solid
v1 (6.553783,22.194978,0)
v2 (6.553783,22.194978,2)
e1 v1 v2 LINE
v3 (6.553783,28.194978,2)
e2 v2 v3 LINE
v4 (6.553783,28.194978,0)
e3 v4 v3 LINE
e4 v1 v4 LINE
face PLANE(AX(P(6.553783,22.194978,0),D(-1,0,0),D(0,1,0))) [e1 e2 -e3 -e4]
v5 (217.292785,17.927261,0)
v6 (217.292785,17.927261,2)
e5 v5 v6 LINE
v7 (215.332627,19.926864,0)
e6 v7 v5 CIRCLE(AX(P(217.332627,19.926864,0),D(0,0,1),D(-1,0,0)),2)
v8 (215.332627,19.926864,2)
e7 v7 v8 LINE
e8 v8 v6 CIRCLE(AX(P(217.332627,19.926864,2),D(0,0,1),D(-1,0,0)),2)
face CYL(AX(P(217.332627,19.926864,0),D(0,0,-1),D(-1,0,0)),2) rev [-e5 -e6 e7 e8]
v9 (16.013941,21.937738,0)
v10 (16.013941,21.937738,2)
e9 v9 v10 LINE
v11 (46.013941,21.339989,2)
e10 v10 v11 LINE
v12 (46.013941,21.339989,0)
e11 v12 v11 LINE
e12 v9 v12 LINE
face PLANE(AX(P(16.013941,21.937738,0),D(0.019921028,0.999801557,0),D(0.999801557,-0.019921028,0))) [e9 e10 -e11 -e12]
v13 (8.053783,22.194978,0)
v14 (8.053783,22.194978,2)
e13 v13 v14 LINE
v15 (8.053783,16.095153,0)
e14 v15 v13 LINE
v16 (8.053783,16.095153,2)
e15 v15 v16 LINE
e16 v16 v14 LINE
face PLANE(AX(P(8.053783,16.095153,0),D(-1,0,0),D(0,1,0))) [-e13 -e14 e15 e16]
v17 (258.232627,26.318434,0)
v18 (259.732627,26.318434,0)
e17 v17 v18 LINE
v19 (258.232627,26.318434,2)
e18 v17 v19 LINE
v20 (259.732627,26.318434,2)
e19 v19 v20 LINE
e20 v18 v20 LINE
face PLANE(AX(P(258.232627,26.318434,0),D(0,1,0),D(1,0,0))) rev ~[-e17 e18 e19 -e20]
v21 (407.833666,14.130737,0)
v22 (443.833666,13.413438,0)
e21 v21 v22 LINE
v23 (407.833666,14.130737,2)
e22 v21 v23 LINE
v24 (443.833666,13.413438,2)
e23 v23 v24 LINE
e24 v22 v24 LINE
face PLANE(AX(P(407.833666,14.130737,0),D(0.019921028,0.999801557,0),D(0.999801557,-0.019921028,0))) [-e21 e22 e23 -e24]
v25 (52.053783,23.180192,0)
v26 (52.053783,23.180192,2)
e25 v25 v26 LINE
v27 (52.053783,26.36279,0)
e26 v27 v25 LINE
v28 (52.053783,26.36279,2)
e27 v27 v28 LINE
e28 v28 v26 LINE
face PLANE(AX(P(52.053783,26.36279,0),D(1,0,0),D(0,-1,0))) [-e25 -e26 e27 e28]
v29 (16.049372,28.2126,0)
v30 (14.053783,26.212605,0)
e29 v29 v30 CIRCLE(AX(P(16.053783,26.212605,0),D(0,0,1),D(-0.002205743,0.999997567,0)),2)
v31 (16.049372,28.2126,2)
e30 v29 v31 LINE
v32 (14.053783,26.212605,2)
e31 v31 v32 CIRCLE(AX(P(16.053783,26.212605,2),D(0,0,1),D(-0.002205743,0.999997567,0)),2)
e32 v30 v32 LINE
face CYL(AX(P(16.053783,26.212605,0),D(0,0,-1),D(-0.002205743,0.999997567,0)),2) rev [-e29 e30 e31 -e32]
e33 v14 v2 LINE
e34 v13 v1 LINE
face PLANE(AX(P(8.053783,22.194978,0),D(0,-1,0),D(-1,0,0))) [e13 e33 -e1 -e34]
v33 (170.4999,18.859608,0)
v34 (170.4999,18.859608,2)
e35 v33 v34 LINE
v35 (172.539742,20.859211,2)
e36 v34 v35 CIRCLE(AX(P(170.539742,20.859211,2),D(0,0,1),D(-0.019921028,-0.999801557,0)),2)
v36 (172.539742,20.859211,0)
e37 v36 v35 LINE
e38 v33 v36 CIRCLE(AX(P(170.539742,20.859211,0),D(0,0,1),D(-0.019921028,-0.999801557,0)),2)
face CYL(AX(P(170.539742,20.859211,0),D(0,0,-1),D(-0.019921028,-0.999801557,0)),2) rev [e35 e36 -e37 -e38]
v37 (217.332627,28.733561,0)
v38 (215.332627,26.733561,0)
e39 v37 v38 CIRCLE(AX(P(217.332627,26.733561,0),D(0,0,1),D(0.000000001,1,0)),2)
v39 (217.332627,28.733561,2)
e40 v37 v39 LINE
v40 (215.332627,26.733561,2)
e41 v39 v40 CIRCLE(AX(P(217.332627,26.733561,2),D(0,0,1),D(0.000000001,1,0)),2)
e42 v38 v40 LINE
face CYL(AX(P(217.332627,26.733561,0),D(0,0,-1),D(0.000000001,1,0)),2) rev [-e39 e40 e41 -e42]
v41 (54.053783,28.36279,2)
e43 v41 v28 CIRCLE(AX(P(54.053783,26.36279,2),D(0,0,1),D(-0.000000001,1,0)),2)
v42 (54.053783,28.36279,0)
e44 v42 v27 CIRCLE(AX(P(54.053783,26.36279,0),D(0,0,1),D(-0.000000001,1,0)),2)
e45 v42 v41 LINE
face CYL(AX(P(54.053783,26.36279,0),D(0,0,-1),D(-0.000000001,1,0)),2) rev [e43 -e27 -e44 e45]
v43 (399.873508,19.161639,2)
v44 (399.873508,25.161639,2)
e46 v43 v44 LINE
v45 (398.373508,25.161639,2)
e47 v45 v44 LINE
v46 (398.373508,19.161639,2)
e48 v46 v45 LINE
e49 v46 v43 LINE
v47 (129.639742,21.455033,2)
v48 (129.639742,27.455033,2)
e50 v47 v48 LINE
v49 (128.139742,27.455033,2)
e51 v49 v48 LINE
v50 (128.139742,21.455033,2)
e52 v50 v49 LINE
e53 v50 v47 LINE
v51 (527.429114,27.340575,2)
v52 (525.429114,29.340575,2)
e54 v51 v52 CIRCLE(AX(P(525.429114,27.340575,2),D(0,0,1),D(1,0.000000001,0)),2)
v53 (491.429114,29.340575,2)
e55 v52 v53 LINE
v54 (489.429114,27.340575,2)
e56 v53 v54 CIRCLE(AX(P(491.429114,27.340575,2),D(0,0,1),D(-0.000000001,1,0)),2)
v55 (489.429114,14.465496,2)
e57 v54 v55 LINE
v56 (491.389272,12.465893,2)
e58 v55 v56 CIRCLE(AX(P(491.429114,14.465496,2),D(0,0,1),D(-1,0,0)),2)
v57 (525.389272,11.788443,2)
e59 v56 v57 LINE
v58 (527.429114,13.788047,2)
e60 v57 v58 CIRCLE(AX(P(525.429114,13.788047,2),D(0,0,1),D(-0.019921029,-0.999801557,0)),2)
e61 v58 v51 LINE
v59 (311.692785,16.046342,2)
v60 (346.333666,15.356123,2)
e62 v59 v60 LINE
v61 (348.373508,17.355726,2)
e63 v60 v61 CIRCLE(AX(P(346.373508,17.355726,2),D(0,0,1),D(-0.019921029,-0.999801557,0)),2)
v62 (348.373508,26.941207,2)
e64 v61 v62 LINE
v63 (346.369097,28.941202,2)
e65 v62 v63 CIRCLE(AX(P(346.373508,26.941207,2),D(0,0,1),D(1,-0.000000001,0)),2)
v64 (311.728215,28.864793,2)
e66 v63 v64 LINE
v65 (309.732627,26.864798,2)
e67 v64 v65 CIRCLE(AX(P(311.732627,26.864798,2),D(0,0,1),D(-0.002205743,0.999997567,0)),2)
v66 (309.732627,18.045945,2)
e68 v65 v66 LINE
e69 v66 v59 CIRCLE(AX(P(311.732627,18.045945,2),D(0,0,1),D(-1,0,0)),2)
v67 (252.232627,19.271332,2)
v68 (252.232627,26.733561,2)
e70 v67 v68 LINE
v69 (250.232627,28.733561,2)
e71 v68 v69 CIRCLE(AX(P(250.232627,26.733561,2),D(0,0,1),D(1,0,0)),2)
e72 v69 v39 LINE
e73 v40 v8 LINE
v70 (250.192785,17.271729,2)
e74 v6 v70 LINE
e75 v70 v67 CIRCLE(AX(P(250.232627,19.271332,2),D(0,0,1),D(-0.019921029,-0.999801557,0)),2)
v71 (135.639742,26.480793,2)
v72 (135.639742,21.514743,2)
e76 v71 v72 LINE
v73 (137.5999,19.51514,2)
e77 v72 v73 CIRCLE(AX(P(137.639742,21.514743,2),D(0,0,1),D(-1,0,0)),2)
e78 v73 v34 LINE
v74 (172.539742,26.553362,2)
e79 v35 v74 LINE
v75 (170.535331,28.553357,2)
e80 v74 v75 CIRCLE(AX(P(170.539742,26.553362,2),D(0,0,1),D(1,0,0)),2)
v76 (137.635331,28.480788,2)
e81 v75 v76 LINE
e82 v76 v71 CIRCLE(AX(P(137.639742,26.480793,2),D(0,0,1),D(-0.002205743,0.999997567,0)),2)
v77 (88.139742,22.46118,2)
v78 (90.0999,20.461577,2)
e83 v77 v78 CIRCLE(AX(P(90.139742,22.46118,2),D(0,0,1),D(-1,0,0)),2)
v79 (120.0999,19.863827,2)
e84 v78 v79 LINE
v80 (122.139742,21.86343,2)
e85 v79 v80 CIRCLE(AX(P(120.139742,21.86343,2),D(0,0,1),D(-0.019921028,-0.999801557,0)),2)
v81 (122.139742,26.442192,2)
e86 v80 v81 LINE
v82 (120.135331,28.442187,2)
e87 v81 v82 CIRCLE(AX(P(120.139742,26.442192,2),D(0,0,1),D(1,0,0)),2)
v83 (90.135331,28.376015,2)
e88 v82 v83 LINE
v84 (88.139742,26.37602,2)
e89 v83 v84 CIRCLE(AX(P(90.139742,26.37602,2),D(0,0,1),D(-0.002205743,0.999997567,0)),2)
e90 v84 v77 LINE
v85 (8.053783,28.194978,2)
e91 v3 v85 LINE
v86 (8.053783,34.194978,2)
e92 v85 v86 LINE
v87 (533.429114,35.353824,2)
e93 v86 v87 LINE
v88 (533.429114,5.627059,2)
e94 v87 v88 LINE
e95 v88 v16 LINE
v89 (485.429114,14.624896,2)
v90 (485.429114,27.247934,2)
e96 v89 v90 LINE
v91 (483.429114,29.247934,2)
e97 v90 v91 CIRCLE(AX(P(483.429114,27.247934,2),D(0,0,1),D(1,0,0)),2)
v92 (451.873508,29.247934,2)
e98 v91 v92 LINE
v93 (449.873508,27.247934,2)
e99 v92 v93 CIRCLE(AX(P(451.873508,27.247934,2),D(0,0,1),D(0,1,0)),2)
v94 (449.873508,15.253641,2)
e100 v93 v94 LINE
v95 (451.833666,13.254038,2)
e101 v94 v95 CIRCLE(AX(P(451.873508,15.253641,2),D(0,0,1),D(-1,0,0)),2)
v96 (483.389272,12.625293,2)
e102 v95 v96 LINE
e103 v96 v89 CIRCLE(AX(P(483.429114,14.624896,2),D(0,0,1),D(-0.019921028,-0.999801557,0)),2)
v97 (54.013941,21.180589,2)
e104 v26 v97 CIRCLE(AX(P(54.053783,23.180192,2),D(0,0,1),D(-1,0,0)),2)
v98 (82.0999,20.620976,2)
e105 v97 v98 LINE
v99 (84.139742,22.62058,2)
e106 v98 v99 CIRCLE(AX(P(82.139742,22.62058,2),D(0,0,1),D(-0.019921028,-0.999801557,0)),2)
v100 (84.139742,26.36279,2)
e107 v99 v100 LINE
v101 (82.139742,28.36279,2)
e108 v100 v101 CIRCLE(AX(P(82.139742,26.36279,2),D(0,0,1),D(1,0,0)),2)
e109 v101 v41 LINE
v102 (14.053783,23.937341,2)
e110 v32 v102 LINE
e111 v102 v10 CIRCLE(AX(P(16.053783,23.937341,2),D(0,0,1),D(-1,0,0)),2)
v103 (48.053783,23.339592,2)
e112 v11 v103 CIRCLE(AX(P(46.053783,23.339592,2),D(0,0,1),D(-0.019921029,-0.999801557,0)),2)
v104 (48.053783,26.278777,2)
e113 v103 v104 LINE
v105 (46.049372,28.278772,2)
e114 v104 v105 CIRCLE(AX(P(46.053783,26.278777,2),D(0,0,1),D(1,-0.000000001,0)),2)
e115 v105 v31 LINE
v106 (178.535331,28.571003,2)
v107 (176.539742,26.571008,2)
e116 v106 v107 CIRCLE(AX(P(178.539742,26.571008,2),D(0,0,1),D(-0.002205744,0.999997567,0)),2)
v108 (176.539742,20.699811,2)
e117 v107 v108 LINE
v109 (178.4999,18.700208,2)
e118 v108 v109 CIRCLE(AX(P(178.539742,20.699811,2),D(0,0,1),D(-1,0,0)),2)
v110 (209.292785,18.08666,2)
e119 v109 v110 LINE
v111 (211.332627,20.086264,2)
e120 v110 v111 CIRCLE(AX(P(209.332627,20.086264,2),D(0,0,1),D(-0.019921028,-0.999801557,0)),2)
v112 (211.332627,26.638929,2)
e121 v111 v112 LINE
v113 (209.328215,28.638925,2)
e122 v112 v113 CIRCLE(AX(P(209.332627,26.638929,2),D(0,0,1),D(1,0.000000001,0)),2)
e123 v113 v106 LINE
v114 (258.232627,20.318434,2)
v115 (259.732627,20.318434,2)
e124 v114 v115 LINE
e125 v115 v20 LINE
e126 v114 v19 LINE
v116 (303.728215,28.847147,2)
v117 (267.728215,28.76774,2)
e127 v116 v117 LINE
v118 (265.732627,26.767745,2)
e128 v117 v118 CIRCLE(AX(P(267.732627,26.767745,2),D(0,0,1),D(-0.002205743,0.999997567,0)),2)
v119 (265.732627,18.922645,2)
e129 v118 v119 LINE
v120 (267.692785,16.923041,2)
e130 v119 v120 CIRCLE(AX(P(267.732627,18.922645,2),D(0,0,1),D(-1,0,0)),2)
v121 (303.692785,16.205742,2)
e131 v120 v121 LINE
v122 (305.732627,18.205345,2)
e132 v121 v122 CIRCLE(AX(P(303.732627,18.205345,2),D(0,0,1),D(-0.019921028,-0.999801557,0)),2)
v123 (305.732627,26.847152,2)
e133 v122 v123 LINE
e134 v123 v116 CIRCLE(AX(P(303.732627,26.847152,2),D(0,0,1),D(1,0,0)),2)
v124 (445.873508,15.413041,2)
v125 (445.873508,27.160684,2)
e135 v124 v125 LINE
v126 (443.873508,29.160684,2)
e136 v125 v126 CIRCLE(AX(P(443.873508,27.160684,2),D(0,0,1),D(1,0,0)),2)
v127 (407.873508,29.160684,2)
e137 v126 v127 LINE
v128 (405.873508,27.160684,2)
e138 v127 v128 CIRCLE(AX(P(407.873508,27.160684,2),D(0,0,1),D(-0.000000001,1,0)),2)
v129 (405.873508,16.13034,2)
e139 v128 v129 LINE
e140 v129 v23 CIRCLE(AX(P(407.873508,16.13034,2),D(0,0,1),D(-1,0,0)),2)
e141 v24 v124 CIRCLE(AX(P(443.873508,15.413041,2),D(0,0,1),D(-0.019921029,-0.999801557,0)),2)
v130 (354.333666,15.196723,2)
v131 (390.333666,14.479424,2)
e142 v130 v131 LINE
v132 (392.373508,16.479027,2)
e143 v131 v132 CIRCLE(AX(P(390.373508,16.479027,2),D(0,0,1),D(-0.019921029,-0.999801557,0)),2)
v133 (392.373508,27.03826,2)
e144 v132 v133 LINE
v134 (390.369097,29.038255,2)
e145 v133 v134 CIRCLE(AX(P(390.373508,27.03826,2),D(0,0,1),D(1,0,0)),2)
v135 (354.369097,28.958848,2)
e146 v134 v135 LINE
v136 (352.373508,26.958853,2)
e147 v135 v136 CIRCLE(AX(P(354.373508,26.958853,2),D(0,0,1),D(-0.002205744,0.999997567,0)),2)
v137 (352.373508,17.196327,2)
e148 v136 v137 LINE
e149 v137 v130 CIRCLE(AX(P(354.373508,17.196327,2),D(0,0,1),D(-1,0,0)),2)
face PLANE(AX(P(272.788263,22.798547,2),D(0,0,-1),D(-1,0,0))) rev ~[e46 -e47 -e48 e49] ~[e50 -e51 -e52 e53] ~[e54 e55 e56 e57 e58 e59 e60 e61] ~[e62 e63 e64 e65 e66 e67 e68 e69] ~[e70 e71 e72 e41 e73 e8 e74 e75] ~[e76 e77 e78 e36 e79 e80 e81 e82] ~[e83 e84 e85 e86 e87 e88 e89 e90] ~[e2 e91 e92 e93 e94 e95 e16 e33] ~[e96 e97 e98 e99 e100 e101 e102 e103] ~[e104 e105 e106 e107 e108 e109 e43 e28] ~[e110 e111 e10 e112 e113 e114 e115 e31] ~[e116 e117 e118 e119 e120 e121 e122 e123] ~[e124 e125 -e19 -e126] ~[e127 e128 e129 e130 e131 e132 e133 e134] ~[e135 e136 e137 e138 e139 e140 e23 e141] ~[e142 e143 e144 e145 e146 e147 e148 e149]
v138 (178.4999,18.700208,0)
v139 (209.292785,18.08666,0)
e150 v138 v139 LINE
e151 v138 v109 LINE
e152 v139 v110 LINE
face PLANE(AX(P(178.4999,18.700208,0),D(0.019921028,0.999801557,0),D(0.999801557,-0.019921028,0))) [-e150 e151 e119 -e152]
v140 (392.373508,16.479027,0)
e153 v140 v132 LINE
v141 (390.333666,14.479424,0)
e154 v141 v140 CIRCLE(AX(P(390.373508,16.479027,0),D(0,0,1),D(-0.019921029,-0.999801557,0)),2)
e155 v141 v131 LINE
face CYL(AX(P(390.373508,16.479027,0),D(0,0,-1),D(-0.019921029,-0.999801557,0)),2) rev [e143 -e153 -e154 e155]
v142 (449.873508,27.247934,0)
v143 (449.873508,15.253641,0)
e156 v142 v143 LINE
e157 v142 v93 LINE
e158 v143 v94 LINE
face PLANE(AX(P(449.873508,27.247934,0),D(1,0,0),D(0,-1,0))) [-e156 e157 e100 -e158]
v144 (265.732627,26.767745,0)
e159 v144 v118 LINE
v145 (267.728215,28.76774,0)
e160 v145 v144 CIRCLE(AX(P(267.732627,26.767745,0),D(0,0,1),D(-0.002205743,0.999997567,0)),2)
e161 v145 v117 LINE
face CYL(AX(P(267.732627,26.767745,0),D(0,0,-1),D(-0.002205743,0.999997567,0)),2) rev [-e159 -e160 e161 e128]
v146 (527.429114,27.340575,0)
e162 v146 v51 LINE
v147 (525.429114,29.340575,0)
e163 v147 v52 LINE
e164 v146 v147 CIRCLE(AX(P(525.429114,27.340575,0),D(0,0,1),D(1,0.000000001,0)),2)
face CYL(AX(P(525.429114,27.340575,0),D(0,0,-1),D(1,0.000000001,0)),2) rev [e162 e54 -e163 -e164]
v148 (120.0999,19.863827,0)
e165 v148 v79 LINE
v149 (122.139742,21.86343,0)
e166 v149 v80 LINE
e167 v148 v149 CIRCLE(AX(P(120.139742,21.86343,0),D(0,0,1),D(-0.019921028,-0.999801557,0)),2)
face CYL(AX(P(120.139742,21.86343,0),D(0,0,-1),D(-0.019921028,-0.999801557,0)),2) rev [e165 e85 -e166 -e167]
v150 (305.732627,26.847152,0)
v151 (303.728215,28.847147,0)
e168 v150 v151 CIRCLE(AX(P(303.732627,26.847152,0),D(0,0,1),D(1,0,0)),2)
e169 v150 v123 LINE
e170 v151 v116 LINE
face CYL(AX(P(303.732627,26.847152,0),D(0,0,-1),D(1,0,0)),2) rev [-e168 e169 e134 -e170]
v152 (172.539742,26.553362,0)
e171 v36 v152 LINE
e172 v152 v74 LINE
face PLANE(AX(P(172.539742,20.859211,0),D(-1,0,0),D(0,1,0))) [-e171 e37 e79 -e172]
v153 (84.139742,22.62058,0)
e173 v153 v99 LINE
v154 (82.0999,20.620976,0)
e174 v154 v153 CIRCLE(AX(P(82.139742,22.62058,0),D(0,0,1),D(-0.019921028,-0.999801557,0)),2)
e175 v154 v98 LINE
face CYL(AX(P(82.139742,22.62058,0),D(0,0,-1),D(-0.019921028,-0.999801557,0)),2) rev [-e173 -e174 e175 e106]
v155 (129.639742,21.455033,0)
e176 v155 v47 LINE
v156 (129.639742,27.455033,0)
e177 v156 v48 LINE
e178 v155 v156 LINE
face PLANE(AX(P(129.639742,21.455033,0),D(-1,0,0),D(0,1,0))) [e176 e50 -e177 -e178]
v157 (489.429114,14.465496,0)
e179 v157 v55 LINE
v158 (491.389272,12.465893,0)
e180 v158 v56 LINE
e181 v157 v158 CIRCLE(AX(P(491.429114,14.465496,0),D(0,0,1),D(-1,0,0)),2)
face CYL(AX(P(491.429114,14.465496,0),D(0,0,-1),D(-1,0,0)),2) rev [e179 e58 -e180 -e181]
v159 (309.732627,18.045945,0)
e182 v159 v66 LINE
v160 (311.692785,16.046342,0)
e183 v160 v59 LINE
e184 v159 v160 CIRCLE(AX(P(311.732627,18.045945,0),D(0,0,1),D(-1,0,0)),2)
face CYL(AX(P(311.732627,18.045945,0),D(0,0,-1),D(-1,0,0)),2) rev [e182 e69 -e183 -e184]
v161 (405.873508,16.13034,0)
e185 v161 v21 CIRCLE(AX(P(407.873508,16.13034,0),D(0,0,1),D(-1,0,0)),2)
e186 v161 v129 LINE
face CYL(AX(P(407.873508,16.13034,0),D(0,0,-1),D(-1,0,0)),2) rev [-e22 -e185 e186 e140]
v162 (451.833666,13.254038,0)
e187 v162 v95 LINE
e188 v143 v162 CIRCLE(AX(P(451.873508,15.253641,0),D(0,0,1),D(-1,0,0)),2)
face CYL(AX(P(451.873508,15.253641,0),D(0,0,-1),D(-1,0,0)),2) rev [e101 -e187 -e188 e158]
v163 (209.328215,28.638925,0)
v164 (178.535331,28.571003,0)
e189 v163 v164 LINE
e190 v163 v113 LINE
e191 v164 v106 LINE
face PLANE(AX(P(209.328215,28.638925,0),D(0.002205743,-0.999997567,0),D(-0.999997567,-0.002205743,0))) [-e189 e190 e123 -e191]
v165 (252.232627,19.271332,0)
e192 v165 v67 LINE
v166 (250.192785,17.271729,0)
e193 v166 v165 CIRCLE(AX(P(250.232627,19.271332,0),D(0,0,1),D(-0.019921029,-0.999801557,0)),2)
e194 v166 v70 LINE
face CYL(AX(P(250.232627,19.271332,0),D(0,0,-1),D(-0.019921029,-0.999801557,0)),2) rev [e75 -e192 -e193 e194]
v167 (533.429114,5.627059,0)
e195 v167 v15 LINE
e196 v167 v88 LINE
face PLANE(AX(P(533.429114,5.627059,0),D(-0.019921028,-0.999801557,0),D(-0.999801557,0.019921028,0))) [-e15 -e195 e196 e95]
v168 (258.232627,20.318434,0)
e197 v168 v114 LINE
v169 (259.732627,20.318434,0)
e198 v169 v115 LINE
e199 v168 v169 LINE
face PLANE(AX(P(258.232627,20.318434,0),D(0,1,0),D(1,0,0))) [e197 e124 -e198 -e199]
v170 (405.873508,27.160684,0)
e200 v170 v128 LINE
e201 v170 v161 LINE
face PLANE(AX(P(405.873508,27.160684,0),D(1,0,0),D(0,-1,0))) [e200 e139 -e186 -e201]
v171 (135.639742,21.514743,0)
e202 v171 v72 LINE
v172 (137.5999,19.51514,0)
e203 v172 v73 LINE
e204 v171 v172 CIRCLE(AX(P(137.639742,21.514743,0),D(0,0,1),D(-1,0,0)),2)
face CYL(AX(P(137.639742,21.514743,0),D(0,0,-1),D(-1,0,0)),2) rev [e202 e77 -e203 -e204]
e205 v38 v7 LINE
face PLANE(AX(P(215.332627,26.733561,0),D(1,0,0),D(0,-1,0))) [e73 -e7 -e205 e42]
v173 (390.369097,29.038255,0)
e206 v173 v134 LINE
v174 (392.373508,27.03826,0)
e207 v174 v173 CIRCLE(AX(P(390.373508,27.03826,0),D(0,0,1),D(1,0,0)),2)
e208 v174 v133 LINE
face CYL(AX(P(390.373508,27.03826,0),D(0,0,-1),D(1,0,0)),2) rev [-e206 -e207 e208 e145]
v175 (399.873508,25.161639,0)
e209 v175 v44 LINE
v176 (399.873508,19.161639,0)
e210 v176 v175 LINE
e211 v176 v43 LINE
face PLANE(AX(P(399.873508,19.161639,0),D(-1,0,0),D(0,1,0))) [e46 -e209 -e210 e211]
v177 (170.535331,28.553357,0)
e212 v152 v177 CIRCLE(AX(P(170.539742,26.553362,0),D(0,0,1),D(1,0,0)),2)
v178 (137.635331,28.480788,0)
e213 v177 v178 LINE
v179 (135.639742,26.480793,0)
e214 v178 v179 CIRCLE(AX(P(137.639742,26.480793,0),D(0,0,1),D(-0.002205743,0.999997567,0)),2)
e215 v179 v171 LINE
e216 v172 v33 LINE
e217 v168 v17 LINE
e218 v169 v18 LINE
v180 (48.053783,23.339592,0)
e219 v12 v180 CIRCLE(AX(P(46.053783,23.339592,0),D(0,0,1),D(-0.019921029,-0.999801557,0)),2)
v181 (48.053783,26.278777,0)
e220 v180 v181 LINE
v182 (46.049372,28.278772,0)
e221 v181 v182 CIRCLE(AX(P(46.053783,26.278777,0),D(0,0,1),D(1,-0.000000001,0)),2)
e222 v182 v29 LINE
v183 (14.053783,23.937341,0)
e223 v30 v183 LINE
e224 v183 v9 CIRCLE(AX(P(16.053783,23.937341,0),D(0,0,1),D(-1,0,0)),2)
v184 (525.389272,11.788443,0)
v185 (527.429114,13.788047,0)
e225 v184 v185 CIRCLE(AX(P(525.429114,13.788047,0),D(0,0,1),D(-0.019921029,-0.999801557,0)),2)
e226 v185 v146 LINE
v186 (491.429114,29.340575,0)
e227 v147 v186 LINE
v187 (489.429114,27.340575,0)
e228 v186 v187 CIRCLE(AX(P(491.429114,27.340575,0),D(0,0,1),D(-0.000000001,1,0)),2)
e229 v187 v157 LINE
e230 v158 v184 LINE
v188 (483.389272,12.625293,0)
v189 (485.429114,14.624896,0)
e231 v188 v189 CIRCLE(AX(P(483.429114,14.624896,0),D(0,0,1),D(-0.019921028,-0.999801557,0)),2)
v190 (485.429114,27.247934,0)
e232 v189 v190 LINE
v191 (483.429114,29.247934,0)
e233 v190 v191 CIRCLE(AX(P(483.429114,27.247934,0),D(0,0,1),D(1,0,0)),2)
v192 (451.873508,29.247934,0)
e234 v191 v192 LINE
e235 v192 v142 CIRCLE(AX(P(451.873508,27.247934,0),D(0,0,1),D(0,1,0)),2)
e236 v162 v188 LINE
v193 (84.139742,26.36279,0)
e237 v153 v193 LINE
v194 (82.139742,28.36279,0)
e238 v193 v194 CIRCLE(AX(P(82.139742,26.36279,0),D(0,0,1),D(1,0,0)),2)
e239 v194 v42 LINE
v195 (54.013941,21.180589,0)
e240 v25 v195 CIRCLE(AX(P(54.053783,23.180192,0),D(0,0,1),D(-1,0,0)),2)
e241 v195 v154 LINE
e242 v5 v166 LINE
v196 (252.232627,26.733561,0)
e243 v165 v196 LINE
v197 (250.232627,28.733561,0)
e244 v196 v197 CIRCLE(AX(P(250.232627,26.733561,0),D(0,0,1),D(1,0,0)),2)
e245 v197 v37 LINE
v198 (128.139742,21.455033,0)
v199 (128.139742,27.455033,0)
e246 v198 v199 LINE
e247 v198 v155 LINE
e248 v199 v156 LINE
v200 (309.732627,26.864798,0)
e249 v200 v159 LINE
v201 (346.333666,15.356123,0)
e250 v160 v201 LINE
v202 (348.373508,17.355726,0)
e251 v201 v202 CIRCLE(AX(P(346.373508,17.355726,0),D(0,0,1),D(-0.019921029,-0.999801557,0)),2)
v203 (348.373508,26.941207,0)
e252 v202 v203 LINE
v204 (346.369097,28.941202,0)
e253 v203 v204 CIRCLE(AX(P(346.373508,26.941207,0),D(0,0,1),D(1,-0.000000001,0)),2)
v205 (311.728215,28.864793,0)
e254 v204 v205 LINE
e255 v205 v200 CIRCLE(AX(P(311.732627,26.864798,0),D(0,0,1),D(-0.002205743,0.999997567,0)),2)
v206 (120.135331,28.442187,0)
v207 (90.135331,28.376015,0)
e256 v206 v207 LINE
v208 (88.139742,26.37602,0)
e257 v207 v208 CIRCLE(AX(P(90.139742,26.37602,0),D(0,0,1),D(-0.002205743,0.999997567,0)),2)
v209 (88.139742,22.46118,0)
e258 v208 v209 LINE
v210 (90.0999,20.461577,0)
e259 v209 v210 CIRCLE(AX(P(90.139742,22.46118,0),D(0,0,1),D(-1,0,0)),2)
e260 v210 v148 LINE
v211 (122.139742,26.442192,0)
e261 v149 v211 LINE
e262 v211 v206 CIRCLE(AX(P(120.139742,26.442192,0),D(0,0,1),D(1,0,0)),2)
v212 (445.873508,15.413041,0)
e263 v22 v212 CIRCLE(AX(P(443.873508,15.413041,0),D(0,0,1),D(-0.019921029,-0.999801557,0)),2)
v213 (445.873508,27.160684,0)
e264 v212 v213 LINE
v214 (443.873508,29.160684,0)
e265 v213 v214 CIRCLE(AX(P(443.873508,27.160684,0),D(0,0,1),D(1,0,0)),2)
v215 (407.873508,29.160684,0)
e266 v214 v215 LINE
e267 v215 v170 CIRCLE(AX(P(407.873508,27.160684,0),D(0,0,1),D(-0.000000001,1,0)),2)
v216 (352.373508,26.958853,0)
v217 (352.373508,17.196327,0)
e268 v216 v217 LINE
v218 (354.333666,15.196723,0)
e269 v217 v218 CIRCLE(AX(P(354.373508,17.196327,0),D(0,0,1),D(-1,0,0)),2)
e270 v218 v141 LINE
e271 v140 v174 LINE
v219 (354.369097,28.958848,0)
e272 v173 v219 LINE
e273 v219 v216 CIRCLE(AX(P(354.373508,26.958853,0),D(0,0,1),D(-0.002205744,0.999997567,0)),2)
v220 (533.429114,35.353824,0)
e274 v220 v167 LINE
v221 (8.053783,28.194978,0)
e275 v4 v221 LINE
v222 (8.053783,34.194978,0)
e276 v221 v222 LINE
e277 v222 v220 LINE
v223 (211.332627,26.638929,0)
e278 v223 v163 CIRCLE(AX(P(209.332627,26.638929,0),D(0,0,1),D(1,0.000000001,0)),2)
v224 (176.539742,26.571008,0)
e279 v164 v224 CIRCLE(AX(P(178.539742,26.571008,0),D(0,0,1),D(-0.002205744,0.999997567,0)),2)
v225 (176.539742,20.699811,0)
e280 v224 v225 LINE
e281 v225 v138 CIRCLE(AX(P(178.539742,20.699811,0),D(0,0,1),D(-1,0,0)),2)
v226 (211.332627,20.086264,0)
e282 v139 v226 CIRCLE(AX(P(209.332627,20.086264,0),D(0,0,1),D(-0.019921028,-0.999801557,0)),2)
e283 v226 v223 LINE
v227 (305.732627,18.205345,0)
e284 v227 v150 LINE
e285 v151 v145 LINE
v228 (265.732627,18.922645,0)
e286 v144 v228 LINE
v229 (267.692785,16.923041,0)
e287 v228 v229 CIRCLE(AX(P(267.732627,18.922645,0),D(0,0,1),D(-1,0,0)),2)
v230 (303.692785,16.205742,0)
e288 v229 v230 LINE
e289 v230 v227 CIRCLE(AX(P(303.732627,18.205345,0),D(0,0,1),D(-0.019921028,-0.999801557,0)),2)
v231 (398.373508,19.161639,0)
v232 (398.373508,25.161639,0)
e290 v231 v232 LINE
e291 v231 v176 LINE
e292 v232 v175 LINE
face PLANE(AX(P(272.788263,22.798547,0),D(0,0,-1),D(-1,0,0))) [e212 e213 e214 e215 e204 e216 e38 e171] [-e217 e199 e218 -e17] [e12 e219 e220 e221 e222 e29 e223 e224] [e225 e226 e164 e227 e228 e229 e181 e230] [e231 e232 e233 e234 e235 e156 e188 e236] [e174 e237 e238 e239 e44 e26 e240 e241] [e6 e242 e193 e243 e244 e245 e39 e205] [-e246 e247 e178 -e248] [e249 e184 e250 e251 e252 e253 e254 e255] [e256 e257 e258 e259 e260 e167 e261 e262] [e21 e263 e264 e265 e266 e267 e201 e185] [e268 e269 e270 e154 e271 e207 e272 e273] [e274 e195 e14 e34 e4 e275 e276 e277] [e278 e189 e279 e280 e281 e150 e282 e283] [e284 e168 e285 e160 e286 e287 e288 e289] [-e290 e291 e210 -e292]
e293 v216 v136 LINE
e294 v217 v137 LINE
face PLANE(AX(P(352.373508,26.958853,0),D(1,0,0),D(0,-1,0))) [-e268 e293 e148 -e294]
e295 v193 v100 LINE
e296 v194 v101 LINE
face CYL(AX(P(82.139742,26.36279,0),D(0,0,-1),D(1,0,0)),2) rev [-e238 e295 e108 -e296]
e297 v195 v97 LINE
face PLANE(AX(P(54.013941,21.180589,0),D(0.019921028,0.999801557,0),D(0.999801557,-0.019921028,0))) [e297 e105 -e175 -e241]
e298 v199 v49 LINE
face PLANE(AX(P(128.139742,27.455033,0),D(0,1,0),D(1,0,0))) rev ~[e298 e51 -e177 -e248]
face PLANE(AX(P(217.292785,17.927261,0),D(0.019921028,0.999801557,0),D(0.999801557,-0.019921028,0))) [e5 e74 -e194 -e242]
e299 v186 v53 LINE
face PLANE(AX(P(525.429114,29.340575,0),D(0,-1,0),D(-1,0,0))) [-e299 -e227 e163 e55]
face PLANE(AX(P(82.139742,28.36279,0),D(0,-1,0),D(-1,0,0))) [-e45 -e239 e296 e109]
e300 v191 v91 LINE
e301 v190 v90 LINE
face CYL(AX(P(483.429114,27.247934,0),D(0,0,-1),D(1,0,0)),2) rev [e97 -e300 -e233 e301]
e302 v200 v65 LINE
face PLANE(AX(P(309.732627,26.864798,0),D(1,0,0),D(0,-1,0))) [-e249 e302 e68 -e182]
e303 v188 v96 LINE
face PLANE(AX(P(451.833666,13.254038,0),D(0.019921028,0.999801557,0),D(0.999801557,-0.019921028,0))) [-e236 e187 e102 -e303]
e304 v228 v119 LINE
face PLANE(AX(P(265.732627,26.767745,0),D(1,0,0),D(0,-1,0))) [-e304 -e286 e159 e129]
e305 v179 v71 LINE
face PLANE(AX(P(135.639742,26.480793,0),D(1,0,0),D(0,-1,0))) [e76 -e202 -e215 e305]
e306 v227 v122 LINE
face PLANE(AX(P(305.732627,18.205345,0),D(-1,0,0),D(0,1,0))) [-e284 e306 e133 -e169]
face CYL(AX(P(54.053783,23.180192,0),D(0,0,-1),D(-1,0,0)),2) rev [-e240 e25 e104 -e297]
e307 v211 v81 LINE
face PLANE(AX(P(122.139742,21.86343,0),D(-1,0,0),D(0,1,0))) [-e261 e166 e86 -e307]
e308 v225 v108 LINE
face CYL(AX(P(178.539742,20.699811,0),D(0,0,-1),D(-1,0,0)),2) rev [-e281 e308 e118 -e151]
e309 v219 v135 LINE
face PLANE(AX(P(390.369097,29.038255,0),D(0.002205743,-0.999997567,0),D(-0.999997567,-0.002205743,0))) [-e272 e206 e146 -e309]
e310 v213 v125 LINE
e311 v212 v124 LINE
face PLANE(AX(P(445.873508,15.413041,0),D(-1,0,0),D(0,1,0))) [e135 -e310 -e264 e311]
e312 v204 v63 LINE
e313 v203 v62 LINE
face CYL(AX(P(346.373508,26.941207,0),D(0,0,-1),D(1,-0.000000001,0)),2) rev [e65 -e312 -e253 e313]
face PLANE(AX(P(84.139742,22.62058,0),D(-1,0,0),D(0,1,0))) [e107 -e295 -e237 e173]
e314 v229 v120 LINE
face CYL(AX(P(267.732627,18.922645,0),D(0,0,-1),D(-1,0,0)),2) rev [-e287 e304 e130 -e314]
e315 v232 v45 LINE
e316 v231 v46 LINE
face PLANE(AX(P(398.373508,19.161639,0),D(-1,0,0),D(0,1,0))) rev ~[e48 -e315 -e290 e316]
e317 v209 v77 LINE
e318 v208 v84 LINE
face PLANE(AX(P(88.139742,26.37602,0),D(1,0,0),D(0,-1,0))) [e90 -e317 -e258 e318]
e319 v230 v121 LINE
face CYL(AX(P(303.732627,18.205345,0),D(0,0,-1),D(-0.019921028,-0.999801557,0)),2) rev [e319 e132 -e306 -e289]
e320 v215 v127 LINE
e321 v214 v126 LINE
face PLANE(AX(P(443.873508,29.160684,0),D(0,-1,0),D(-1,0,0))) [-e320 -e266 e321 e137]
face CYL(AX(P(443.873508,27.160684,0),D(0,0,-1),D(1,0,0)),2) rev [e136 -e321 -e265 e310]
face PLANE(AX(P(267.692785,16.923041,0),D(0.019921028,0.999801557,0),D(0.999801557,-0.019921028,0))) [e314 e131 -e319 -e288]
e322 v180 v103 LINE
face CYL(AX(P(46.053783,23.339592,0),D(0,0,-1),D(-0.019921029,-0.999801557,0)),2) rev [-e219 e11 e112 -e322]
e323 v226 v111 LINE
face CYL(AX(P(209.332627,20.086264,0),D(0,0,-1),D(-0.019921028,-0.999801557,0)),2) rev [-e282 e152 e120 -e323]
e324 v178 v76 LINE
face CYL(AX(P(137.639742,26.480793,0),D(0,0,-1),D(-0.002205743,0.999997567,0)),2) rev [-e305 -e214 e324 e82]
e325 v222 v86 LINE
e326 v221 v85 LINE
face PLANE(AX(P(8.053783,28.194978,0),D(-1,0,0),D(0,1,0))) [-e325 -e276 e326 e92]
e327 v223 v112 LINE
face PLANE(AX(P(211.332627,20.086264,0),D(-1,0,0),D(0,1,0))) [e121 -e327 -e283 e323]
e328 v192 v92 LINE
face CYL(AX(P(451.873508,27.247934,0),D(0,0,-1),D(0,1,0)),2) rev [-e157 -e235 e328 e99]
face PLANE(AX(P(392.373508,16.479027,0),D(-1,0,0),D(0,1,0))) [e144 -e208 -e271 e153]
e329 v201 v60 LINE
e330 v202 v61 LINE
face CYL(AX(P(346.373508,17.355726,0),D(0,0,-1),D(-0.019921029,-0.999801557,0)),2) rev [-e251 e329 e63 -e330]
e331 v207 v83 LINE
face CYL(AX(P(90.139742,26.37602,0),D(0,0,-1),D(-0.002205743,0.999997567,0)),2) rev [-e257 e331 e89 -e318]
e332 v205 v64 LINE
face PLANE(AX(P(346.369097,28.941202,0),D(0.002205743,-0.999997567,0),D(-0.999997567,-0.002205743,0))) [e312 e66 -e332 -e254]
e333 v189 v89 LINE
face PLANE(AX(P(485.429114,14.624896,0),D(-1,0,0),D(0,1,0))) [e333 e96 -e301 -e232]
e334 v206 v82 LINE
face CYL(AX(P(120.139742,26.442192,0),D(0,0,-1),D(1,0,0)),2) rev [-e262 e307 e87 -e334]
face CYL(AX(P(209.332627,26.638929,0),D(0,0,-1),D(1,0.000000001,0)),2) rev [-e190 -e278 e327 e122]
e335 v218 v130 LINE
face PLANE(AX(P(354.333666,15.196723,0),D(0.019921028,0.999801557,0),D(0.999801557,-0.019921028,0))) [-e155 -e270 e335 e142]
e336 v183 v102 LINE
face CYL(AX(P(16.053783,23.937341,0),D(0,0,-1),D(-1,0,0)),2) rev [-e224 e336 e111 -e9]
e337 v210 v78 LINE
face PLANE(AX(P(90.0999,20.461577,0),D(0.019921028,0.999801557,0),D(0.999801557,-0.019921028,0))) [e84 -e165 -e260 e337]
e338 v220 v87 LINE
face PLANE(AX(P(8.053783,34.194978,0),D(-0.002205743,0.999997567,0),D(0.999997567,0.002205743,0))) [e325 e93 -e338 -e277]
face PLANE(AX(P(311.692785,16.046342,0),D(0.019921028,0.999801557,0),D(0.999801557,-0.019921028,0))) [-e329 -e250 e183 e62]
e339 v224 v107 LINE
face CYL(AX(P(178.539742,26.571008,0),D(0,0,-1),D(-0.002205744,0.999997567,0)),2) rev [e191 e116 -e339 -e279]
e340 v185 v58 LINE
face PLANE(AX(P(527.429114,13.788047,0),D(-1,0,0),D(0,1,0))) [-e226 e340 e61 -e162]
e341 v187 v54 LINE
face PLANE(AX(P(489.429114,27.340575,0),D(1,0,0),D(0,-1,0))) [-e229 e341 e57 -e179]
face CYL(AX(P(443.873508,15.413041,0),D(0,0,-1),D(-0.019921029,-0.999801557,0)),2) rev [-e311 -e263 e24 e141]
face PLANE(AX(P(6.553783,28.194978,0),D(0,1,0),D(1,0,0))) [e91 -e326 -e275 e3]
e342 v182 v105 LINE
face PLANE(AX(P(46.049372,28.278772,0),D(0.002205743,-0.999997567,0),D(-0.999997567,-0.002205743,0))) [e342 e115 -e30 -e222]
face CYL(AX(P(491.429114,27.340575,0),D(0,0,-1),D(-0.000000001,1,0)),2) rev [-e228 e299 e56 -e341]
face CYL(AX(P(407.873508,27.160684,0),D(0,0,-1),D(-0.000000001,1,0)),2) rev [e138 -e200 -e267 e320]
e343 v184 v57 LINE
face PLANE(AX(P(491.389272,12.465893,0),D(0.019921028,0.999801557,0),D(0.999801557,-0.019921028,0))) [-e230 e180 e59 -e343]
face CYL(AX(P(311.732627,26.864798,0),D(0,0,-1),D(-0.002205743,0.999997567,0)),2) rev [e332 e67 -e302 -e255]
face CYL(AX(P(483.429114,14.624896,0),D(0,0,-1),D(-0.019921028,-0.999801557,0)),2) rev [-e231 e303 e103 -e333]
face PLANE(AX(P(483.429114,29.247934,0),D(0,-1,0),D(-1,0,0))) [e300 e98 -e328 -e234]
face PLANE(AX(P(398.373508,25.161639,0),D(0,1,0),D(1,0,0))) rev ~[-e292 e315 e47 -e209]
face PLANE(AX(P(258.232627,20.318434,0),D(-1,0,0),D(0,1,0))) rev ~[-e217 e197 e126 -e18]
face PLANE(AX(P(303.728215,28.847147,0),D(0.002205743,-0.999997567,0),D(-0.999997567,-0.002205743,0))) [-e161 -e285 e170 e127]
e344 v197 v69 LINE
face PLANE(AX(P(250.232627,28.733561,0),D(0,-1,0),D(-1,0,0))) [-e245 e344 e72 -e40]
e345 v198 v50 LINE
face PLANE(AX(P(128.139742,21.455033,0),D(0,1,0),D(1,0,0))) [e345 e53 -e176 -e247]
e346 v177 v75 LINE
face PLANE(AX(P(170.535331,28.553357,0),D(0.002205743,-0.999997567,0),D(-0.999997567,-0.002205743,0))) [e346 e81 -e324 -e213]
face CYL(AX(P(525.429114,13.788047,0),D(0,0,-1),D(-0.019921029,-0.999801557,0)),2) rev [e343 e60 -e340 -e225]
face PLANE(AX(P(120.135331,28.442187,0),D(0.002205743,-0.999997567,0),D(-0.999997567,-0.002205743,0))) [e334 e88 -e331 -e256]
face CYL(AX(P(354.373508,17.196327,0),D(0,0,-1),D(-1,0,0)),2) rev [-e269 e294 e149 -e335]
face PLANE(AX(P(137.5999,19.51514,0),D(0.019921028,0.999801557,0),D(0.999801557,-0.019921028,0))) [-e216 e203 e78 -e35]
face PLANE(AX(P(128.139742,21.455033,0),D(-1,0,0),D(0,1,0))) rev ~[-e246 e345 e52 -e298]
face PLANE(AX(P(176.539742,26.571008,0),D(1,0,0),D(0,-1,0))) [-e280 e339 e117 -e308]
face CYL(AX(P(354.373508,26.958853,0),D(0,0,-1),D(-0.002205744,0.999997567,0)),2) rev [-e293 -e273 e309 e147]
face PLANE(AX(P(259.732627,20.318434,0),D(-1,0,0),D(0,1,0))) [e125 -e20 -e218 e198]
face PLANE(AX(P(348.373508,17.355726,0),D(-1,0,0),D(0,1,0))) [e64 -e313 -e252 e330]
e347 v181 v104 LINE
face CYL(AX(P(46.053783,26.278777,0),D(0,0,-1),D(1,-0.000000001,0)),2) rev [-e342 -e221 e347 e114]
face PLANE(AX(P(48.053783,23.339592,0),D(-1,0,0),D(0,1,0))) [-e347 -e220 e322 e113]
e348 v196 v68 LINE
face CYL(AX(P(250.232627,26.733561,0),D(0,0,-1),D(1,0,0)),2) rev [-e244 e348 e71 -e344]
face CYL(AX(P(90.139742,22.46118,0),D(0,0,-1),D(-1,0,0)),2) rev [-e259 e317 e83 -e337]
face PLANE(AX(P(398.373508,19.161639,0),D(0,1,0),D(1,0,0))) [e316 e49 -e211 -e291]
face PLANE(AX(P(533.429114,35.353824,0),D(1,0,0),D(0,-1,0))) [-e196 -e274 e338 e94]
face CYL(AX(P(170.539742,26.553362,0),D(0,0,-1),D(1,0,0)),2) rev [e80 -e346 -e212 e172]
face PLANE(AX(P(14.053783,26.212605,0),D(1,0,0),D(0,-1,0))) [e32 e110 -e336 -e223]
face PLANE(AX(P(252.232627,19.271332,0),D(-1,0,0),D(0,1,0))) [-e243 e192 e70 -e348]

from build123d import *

# Parameters (mm, degrees)
SKETCH_2_W      = 1.5
SKETCH_2_H      = 6
EXTRUDE_2_DEPTH = 2


with BuildPart() as part:
    # 草图2 → 凸台-拉伸2 (new body)
    with BuildSketch(Plane.XY):
        Polygon((8.053783248, 22.194978349), (6.553783248, 22.194978349), (6.553783248, 28.194978349), (8.053783248, 28.194978349), (8.053783248, 34.194978349), (533.429113931, 35.353824286), (533.429113931, 5.627058882), (8.053783248, 16.095153128), align=None)
        with Locations((128.889742021, 24.455033291)):
            Rectangle(SKETCH_2_W, SKETCH_2_H, mode=Mode.SUBTRACT)
        with Locations((258.982626832, 23.318434437)):
            Rectangle(SKETCH_2_W, SKETCH_2_H, mode=Mode.SUBTRACT)
        with Locations((399.123508139, 22.161638966)):
            Rectangle(SKETCH_2_W, SKETCH_2_H, mode=Mode.SUBTRACT)
        with BuildLine():
            Line((14.053783248, 26.212604877), (14.053783248, 23.93734113))
            ThreePointArc((14.053783248, 23.93734113), (14.625552855, 22.537284723), (16.013941191, 21.937738017))
            Line((16.013941191, 21.937738017), (46.013941191, 21.339988544))
            ThreePointArc((46.013941191, 21.339988544), (47.453839655, 21.911361263), (48.053783248, 23.339591657))
            Line((48.053783248, 23.339591657), (48.053783248, 26.278777337))
            ThreePointArc((48.053783248, 26.278777337), (47.466436254, 27.694549736), (46.049371762, 28.278772471))
            Line((46.049371762, 28.278772471), (16.049371762, 28.212600011))
            ThreePointArc((16.049371762, 28.212600011), (14.638010849, 27.625257882), (14.053783248, 26.212604877))
        make_face(mode=Mode.SUBTRACT)
        with BuildLine():
            Line((52.053783248, 26.362790255), (52.053783248, 23.180191797))
            ThreePointArc((52.053783248, 23.180191797), (52.625552855, 21.78013539), (54.013941191, 21.180588684))
            Line((54.013941191, 21.180588684), (82.099899964, 20.620976448))
            ThreePointArc((82.099899964, 20.620976448), (83.539798428, 21.192349168), (84.139742021, 22.620579561))
            Line((84.139742021, 22.620579561), (84.139742021, 26.362790255))
            ThreePointArc((84.139742021, 26.362790255), (83.553955584, 27.777003817), (82.139742021, 28.362790255))
            Line((82.139742021, 28.362790255), (54.053783248, 28.362790255))
            ThreePointArc((54.053783248, 28.362790255), (52.639569686, 27.777003817), (52.053783248, 26.362790255))
        make_face(mode=Mode.SUBTRACT)
        with BuildLine():
            Line((88.139742021, 26.376019882), (88.139742021, 22.461179702))
            ThreePointArc((88.139742021, 22.461179702), (88.711511628, 21.061123295), (90.099899964, 20.461576589))
            Line((90.099899964, 20.461576589), (120.099899964, 19.863827115))
            ThreePointArc((120.099899964, 19.863827115), (121.539798428, 20.435199835), (122.139742021, 21.863430228))
            Line((122.139742021, 21.863430228), (122.139742021, 26.442192342))
            ThreePointArc((122.139742021, 26.442192342), (121.552395026, 27.857964741), (120.135330535, 28.442187476))
            Line((120.135330535, 28.442187476), (90.135330535, 28.376015016))
            ThreePointArc((90.135330535, 28.376015016), (88.723969622, 27.788672887), (88.139742021, 26.376019882))
        make_face(mode=Mode.SUBTRACT)
        with BuildLine():
            Line((135.639742021, 26.480792944), (135.639742021, 21.514743035))
            ThreePointArc((135.639742021, 21.514743035), (136.211511628, 20.114686628), (137.599899964, 19.515139922))
            Line((137.599899964, 19.515139922), (170.499899964, 18.859607999))
            ThreePointArc((170.499899964, 18.859607999), (171.939798428, 19.430980719), (172.539742021, 20.859211112))
            Line((172.539742021, 20.859211112), (172.539742021, 26.553362075))
            ThreePointArc((172.539742021, 26.553362075), (171.952395026, 27.969134474), (170.535330535, 28.553357209))
            Line((170.535330535, 28.553357209), (137.635330535, 28.480788078))
            ThreePointArc((137.635330535, 28.480788078), (136.223969622, 27.893445949), (135.639742021, 26.480792944))
        make_face(mode=Mode.SUBTRACT)
        with BuildLine():
            Line((176.539742021, 26.571008064), (176.539742021, 20.699811253))
            ThreePointArc((176.539742021, 20.699811253), (177.111511628, 19.299754846), (178.499899964, 18.70020814))
            Line((178.499899964, 18.70020814), (209.292784775, 18.08666045))
            ThreePointArc((209.292784775, 18.08666045), (210.732683239, 18.65803317), (211.332626832, 20.086263563))
            Line((211.332626832, 20.086263563), (211.332626832, 26.638929429))
            ThreePointArc((211.332626832, 26.638929429), (210.745279837, 28.054701828), (209.328215345, 28.638924564))
            Line((209.328215345, 28.638924564), (178.535330535, 28.571003199))
            ThreePointArc((178.535330535, 28.571003199), (177.123969622, 27.983661069), (176.539742021, 26.571008064))
        make_face(mode=Mode.SUBTRACT)
        with BuildLine():
            Line((215.332626832, 26.733560912), (215.332626832, 19.926863704))
            ThreePointArc((215.332626832, 19.926863704), (215.904396438, 18.526807297), (217.292784775, 17.92726059))
            Line((217.292784775, 17.92726059), (250.192784775, 17.271728668))
            ThreePointArc((250.192784775, 17.271728668), (251.632683239, 17.843101387), (252.232626832, 19.271331781))
            Line((252.232626832, 19.271331781), (252.232626832, 26.733560912))
            ThreePointArc((252.232626832, 26.733560912), (251.646840394, 28.147774475), (250.232626832, 28.733560912))
            Line((250.232626832, 28.733560912), (217.332626832, 28.733560912))
            ThreePointArc((217.332626832, 28.733560912), (215.918413269, 28.147774475), (215.332626832, 26.733560912))
        make_face(mode=Mode.SUBTRACT)
        with BuildLine():
            Line((265.732626832, 26.767745151), (265.732626832, 18.922644588))
            ThreePointArc((265.732626832, 18.922644588), (266.304396438, 17.522588181), (267.692784775, 16.923041475))
            Line((267.692784775, 16.923041475), (303.692784775, 16.205742106))
            ThreePointArc((303.692784775, 16.205742106), (305.132683239, 16.777114826), (305.732626832, 18.20534522))
            Line((305.732626832, 18.20534522), (305.732626832, 26.847152103))
            ThreePointArc((305.732626832, 26.847152103), (305.145279837, 28.262924503), (303.728215345, 28.847147238))
            Line((303.728215345, 28.847147238), (267.728215345, 28.767740286))
            ThreePointArc((267.728215345, 28.767740286), (266.316854432, 28.180398157), (265.732626832, 26.767745151))
        make_face(mode=Mode.SUBTRACT)
        with BuildLine():
            Line((309.732626832, 26.864798093), (309.732626832, 18.04594536))
            ThreePointArc((309.732626832, 18.04594536), (310.304396438, 16.645888953), (311.692784775, 16.046342247))
            Line((311.692784775, 16.046342247), (346.333666082, 15.356123294))
            ThreePointArc((346.333666082, 15.356123294), (347.773564547, 15.927496014), (348.373508139, 17.355726408))
            Line((348.373508139, 17.355726408), (348.373508139, 26.941207171))
            ThreePointArc((348.373508139, 26.941207171), (347.786161145, 28.35697957), (346.369096653, 28.941202305))
            Line((346.369096653, 28.941202305), (311.728215345, 28.864793227))
            ThreePointArc((311.728215345, 28.864793227), (310.316854432, 28.277451098), (309.732626832, 26.864798093))
        make_face(mode=Mode.SUBTRACT)
        with BuildLine():
            Line((352.373508139, 26.95885316), (352.373508139, 17.196326548))
            ThreePointArc((352.373508139, 17.196326548), (352.945277746, 15.796270141), (354.333666082, 15.196723435))
            Line((354.333666082, 15.196723435), (390.333666082, 14.479424066))
            ThreePointArc((390.333666082, 14.479424066), (391.773564547, 15.050796786), (392.373508139, 16.47902718))
            Line((392.373508139, 16.47902718), (392.373508139, 27.038260112))
            ThreePointArc((392.373508139, 27.038260112), (391.786161145, 28.454032511), (390.369096653, 29.038255247))
            Line((390.369096653, 29.038255247), (354.369096653, 28.958848295))
            ThreePointArc((354.369096653, 28.958848295), (352.95773574, 28.371506165), (352.373508139, 26.95885316))
        make_face(mode=Mode.SUBTRACT)
        with BuildLine():
            Line((405.873508139, 27.160684029), (405.873508139, 16.130339987))
            ThreePointArc((405.873508139, 16.130339987), (406.445277746, 14.73028358), (407.833666082, 14.130736874))
            Line((407.833666082, 14.130736874), (443.833666082, 13.413437505))
            ThreePointArc((443.833666082, 13.413437505), (445.273564547, 13.984810225), (445.873508139, 15.413040618))
            Line((445.873508139, 15.413040618), (445.873508139, 27.160684029))
            ThreePointArc((445.873508139, 27.160684029), (445.287721702, 28.574897591), (443.873508139, 29.160684029))
            Line((443.873508139, 29.160684029), (407.873508139, 29.160684029))
            ThreePointArc((407.873508139, 29.160684029), (406.459294577, 28.574897591), (405.873508139, 27.160684029))
        make_face(mode=Mode.SUBTRACT)
        with BuildLine():
            Line((449.873508139, 27.247933753), (449.873508139, 15.253640759))
            ThreePointArc((449.873508139, 15.253640759), (450.445277746, 13.853584352), (451.833666082, 13.254037646))
            Line((451.833666082, 13.254037646), (483.389271874, 12.625292754))
            ThreePointArc((483.389271874, 12.625292754), (484.829170338, 13.196665474), (485.429113931, 14.624895867))
            Line((485.429113931, 14.624895867), (485.429113931, 27.247933753))
            ThreePointArc((485.429113931, 27.247933753), (484.843327493, 28.662147316), (483.429113931, 29.247933753))
            Line((483.429113931, 29.247933753), (451.873508139, 29.247933753))
            ThreePointArc((451.873508139, 29.247933753), (450.459294577, 28.662147316), (449.873508139, 27.247933753))
        make_face(mode=Mode.SUBTRACT)
        with BuildLine():
            Line((489.429113931, 27.340575198), (489.429113931, 14.465496007))
            ThreePointArc((489.429113931, 14.465496007), (490.000883538, 13.0654396), (491.389271874, 12.465892894))
            Line((491.389271874, 12.465892894), (525.389271874, 11.788443491))
            ThreePointArc((525.389271874, 11.788443491), (526.829170338, 12.35981621), (527.429113931, 13.788046604))
            Line((527.429113931, 13.788046604), (527.429113931, 27.340575198))
            ThreePointArc((527.429113931, 27.340575198), (526.843327493, 28.75478876), (525.429113931, 29.340575198))
            Line((525.429113931, 29.340575198), (491.429113931, 29.340575198))
            ThreePointArc((491.429113931, 29.340575198), (490.014900369, 28.75478876), (489.429113931, 27.340575198))
        make_face(mode=Mode.SUBTRACT)
    extrude(amount=EXTRUDE_2_DEPTH)


solid = part.part
